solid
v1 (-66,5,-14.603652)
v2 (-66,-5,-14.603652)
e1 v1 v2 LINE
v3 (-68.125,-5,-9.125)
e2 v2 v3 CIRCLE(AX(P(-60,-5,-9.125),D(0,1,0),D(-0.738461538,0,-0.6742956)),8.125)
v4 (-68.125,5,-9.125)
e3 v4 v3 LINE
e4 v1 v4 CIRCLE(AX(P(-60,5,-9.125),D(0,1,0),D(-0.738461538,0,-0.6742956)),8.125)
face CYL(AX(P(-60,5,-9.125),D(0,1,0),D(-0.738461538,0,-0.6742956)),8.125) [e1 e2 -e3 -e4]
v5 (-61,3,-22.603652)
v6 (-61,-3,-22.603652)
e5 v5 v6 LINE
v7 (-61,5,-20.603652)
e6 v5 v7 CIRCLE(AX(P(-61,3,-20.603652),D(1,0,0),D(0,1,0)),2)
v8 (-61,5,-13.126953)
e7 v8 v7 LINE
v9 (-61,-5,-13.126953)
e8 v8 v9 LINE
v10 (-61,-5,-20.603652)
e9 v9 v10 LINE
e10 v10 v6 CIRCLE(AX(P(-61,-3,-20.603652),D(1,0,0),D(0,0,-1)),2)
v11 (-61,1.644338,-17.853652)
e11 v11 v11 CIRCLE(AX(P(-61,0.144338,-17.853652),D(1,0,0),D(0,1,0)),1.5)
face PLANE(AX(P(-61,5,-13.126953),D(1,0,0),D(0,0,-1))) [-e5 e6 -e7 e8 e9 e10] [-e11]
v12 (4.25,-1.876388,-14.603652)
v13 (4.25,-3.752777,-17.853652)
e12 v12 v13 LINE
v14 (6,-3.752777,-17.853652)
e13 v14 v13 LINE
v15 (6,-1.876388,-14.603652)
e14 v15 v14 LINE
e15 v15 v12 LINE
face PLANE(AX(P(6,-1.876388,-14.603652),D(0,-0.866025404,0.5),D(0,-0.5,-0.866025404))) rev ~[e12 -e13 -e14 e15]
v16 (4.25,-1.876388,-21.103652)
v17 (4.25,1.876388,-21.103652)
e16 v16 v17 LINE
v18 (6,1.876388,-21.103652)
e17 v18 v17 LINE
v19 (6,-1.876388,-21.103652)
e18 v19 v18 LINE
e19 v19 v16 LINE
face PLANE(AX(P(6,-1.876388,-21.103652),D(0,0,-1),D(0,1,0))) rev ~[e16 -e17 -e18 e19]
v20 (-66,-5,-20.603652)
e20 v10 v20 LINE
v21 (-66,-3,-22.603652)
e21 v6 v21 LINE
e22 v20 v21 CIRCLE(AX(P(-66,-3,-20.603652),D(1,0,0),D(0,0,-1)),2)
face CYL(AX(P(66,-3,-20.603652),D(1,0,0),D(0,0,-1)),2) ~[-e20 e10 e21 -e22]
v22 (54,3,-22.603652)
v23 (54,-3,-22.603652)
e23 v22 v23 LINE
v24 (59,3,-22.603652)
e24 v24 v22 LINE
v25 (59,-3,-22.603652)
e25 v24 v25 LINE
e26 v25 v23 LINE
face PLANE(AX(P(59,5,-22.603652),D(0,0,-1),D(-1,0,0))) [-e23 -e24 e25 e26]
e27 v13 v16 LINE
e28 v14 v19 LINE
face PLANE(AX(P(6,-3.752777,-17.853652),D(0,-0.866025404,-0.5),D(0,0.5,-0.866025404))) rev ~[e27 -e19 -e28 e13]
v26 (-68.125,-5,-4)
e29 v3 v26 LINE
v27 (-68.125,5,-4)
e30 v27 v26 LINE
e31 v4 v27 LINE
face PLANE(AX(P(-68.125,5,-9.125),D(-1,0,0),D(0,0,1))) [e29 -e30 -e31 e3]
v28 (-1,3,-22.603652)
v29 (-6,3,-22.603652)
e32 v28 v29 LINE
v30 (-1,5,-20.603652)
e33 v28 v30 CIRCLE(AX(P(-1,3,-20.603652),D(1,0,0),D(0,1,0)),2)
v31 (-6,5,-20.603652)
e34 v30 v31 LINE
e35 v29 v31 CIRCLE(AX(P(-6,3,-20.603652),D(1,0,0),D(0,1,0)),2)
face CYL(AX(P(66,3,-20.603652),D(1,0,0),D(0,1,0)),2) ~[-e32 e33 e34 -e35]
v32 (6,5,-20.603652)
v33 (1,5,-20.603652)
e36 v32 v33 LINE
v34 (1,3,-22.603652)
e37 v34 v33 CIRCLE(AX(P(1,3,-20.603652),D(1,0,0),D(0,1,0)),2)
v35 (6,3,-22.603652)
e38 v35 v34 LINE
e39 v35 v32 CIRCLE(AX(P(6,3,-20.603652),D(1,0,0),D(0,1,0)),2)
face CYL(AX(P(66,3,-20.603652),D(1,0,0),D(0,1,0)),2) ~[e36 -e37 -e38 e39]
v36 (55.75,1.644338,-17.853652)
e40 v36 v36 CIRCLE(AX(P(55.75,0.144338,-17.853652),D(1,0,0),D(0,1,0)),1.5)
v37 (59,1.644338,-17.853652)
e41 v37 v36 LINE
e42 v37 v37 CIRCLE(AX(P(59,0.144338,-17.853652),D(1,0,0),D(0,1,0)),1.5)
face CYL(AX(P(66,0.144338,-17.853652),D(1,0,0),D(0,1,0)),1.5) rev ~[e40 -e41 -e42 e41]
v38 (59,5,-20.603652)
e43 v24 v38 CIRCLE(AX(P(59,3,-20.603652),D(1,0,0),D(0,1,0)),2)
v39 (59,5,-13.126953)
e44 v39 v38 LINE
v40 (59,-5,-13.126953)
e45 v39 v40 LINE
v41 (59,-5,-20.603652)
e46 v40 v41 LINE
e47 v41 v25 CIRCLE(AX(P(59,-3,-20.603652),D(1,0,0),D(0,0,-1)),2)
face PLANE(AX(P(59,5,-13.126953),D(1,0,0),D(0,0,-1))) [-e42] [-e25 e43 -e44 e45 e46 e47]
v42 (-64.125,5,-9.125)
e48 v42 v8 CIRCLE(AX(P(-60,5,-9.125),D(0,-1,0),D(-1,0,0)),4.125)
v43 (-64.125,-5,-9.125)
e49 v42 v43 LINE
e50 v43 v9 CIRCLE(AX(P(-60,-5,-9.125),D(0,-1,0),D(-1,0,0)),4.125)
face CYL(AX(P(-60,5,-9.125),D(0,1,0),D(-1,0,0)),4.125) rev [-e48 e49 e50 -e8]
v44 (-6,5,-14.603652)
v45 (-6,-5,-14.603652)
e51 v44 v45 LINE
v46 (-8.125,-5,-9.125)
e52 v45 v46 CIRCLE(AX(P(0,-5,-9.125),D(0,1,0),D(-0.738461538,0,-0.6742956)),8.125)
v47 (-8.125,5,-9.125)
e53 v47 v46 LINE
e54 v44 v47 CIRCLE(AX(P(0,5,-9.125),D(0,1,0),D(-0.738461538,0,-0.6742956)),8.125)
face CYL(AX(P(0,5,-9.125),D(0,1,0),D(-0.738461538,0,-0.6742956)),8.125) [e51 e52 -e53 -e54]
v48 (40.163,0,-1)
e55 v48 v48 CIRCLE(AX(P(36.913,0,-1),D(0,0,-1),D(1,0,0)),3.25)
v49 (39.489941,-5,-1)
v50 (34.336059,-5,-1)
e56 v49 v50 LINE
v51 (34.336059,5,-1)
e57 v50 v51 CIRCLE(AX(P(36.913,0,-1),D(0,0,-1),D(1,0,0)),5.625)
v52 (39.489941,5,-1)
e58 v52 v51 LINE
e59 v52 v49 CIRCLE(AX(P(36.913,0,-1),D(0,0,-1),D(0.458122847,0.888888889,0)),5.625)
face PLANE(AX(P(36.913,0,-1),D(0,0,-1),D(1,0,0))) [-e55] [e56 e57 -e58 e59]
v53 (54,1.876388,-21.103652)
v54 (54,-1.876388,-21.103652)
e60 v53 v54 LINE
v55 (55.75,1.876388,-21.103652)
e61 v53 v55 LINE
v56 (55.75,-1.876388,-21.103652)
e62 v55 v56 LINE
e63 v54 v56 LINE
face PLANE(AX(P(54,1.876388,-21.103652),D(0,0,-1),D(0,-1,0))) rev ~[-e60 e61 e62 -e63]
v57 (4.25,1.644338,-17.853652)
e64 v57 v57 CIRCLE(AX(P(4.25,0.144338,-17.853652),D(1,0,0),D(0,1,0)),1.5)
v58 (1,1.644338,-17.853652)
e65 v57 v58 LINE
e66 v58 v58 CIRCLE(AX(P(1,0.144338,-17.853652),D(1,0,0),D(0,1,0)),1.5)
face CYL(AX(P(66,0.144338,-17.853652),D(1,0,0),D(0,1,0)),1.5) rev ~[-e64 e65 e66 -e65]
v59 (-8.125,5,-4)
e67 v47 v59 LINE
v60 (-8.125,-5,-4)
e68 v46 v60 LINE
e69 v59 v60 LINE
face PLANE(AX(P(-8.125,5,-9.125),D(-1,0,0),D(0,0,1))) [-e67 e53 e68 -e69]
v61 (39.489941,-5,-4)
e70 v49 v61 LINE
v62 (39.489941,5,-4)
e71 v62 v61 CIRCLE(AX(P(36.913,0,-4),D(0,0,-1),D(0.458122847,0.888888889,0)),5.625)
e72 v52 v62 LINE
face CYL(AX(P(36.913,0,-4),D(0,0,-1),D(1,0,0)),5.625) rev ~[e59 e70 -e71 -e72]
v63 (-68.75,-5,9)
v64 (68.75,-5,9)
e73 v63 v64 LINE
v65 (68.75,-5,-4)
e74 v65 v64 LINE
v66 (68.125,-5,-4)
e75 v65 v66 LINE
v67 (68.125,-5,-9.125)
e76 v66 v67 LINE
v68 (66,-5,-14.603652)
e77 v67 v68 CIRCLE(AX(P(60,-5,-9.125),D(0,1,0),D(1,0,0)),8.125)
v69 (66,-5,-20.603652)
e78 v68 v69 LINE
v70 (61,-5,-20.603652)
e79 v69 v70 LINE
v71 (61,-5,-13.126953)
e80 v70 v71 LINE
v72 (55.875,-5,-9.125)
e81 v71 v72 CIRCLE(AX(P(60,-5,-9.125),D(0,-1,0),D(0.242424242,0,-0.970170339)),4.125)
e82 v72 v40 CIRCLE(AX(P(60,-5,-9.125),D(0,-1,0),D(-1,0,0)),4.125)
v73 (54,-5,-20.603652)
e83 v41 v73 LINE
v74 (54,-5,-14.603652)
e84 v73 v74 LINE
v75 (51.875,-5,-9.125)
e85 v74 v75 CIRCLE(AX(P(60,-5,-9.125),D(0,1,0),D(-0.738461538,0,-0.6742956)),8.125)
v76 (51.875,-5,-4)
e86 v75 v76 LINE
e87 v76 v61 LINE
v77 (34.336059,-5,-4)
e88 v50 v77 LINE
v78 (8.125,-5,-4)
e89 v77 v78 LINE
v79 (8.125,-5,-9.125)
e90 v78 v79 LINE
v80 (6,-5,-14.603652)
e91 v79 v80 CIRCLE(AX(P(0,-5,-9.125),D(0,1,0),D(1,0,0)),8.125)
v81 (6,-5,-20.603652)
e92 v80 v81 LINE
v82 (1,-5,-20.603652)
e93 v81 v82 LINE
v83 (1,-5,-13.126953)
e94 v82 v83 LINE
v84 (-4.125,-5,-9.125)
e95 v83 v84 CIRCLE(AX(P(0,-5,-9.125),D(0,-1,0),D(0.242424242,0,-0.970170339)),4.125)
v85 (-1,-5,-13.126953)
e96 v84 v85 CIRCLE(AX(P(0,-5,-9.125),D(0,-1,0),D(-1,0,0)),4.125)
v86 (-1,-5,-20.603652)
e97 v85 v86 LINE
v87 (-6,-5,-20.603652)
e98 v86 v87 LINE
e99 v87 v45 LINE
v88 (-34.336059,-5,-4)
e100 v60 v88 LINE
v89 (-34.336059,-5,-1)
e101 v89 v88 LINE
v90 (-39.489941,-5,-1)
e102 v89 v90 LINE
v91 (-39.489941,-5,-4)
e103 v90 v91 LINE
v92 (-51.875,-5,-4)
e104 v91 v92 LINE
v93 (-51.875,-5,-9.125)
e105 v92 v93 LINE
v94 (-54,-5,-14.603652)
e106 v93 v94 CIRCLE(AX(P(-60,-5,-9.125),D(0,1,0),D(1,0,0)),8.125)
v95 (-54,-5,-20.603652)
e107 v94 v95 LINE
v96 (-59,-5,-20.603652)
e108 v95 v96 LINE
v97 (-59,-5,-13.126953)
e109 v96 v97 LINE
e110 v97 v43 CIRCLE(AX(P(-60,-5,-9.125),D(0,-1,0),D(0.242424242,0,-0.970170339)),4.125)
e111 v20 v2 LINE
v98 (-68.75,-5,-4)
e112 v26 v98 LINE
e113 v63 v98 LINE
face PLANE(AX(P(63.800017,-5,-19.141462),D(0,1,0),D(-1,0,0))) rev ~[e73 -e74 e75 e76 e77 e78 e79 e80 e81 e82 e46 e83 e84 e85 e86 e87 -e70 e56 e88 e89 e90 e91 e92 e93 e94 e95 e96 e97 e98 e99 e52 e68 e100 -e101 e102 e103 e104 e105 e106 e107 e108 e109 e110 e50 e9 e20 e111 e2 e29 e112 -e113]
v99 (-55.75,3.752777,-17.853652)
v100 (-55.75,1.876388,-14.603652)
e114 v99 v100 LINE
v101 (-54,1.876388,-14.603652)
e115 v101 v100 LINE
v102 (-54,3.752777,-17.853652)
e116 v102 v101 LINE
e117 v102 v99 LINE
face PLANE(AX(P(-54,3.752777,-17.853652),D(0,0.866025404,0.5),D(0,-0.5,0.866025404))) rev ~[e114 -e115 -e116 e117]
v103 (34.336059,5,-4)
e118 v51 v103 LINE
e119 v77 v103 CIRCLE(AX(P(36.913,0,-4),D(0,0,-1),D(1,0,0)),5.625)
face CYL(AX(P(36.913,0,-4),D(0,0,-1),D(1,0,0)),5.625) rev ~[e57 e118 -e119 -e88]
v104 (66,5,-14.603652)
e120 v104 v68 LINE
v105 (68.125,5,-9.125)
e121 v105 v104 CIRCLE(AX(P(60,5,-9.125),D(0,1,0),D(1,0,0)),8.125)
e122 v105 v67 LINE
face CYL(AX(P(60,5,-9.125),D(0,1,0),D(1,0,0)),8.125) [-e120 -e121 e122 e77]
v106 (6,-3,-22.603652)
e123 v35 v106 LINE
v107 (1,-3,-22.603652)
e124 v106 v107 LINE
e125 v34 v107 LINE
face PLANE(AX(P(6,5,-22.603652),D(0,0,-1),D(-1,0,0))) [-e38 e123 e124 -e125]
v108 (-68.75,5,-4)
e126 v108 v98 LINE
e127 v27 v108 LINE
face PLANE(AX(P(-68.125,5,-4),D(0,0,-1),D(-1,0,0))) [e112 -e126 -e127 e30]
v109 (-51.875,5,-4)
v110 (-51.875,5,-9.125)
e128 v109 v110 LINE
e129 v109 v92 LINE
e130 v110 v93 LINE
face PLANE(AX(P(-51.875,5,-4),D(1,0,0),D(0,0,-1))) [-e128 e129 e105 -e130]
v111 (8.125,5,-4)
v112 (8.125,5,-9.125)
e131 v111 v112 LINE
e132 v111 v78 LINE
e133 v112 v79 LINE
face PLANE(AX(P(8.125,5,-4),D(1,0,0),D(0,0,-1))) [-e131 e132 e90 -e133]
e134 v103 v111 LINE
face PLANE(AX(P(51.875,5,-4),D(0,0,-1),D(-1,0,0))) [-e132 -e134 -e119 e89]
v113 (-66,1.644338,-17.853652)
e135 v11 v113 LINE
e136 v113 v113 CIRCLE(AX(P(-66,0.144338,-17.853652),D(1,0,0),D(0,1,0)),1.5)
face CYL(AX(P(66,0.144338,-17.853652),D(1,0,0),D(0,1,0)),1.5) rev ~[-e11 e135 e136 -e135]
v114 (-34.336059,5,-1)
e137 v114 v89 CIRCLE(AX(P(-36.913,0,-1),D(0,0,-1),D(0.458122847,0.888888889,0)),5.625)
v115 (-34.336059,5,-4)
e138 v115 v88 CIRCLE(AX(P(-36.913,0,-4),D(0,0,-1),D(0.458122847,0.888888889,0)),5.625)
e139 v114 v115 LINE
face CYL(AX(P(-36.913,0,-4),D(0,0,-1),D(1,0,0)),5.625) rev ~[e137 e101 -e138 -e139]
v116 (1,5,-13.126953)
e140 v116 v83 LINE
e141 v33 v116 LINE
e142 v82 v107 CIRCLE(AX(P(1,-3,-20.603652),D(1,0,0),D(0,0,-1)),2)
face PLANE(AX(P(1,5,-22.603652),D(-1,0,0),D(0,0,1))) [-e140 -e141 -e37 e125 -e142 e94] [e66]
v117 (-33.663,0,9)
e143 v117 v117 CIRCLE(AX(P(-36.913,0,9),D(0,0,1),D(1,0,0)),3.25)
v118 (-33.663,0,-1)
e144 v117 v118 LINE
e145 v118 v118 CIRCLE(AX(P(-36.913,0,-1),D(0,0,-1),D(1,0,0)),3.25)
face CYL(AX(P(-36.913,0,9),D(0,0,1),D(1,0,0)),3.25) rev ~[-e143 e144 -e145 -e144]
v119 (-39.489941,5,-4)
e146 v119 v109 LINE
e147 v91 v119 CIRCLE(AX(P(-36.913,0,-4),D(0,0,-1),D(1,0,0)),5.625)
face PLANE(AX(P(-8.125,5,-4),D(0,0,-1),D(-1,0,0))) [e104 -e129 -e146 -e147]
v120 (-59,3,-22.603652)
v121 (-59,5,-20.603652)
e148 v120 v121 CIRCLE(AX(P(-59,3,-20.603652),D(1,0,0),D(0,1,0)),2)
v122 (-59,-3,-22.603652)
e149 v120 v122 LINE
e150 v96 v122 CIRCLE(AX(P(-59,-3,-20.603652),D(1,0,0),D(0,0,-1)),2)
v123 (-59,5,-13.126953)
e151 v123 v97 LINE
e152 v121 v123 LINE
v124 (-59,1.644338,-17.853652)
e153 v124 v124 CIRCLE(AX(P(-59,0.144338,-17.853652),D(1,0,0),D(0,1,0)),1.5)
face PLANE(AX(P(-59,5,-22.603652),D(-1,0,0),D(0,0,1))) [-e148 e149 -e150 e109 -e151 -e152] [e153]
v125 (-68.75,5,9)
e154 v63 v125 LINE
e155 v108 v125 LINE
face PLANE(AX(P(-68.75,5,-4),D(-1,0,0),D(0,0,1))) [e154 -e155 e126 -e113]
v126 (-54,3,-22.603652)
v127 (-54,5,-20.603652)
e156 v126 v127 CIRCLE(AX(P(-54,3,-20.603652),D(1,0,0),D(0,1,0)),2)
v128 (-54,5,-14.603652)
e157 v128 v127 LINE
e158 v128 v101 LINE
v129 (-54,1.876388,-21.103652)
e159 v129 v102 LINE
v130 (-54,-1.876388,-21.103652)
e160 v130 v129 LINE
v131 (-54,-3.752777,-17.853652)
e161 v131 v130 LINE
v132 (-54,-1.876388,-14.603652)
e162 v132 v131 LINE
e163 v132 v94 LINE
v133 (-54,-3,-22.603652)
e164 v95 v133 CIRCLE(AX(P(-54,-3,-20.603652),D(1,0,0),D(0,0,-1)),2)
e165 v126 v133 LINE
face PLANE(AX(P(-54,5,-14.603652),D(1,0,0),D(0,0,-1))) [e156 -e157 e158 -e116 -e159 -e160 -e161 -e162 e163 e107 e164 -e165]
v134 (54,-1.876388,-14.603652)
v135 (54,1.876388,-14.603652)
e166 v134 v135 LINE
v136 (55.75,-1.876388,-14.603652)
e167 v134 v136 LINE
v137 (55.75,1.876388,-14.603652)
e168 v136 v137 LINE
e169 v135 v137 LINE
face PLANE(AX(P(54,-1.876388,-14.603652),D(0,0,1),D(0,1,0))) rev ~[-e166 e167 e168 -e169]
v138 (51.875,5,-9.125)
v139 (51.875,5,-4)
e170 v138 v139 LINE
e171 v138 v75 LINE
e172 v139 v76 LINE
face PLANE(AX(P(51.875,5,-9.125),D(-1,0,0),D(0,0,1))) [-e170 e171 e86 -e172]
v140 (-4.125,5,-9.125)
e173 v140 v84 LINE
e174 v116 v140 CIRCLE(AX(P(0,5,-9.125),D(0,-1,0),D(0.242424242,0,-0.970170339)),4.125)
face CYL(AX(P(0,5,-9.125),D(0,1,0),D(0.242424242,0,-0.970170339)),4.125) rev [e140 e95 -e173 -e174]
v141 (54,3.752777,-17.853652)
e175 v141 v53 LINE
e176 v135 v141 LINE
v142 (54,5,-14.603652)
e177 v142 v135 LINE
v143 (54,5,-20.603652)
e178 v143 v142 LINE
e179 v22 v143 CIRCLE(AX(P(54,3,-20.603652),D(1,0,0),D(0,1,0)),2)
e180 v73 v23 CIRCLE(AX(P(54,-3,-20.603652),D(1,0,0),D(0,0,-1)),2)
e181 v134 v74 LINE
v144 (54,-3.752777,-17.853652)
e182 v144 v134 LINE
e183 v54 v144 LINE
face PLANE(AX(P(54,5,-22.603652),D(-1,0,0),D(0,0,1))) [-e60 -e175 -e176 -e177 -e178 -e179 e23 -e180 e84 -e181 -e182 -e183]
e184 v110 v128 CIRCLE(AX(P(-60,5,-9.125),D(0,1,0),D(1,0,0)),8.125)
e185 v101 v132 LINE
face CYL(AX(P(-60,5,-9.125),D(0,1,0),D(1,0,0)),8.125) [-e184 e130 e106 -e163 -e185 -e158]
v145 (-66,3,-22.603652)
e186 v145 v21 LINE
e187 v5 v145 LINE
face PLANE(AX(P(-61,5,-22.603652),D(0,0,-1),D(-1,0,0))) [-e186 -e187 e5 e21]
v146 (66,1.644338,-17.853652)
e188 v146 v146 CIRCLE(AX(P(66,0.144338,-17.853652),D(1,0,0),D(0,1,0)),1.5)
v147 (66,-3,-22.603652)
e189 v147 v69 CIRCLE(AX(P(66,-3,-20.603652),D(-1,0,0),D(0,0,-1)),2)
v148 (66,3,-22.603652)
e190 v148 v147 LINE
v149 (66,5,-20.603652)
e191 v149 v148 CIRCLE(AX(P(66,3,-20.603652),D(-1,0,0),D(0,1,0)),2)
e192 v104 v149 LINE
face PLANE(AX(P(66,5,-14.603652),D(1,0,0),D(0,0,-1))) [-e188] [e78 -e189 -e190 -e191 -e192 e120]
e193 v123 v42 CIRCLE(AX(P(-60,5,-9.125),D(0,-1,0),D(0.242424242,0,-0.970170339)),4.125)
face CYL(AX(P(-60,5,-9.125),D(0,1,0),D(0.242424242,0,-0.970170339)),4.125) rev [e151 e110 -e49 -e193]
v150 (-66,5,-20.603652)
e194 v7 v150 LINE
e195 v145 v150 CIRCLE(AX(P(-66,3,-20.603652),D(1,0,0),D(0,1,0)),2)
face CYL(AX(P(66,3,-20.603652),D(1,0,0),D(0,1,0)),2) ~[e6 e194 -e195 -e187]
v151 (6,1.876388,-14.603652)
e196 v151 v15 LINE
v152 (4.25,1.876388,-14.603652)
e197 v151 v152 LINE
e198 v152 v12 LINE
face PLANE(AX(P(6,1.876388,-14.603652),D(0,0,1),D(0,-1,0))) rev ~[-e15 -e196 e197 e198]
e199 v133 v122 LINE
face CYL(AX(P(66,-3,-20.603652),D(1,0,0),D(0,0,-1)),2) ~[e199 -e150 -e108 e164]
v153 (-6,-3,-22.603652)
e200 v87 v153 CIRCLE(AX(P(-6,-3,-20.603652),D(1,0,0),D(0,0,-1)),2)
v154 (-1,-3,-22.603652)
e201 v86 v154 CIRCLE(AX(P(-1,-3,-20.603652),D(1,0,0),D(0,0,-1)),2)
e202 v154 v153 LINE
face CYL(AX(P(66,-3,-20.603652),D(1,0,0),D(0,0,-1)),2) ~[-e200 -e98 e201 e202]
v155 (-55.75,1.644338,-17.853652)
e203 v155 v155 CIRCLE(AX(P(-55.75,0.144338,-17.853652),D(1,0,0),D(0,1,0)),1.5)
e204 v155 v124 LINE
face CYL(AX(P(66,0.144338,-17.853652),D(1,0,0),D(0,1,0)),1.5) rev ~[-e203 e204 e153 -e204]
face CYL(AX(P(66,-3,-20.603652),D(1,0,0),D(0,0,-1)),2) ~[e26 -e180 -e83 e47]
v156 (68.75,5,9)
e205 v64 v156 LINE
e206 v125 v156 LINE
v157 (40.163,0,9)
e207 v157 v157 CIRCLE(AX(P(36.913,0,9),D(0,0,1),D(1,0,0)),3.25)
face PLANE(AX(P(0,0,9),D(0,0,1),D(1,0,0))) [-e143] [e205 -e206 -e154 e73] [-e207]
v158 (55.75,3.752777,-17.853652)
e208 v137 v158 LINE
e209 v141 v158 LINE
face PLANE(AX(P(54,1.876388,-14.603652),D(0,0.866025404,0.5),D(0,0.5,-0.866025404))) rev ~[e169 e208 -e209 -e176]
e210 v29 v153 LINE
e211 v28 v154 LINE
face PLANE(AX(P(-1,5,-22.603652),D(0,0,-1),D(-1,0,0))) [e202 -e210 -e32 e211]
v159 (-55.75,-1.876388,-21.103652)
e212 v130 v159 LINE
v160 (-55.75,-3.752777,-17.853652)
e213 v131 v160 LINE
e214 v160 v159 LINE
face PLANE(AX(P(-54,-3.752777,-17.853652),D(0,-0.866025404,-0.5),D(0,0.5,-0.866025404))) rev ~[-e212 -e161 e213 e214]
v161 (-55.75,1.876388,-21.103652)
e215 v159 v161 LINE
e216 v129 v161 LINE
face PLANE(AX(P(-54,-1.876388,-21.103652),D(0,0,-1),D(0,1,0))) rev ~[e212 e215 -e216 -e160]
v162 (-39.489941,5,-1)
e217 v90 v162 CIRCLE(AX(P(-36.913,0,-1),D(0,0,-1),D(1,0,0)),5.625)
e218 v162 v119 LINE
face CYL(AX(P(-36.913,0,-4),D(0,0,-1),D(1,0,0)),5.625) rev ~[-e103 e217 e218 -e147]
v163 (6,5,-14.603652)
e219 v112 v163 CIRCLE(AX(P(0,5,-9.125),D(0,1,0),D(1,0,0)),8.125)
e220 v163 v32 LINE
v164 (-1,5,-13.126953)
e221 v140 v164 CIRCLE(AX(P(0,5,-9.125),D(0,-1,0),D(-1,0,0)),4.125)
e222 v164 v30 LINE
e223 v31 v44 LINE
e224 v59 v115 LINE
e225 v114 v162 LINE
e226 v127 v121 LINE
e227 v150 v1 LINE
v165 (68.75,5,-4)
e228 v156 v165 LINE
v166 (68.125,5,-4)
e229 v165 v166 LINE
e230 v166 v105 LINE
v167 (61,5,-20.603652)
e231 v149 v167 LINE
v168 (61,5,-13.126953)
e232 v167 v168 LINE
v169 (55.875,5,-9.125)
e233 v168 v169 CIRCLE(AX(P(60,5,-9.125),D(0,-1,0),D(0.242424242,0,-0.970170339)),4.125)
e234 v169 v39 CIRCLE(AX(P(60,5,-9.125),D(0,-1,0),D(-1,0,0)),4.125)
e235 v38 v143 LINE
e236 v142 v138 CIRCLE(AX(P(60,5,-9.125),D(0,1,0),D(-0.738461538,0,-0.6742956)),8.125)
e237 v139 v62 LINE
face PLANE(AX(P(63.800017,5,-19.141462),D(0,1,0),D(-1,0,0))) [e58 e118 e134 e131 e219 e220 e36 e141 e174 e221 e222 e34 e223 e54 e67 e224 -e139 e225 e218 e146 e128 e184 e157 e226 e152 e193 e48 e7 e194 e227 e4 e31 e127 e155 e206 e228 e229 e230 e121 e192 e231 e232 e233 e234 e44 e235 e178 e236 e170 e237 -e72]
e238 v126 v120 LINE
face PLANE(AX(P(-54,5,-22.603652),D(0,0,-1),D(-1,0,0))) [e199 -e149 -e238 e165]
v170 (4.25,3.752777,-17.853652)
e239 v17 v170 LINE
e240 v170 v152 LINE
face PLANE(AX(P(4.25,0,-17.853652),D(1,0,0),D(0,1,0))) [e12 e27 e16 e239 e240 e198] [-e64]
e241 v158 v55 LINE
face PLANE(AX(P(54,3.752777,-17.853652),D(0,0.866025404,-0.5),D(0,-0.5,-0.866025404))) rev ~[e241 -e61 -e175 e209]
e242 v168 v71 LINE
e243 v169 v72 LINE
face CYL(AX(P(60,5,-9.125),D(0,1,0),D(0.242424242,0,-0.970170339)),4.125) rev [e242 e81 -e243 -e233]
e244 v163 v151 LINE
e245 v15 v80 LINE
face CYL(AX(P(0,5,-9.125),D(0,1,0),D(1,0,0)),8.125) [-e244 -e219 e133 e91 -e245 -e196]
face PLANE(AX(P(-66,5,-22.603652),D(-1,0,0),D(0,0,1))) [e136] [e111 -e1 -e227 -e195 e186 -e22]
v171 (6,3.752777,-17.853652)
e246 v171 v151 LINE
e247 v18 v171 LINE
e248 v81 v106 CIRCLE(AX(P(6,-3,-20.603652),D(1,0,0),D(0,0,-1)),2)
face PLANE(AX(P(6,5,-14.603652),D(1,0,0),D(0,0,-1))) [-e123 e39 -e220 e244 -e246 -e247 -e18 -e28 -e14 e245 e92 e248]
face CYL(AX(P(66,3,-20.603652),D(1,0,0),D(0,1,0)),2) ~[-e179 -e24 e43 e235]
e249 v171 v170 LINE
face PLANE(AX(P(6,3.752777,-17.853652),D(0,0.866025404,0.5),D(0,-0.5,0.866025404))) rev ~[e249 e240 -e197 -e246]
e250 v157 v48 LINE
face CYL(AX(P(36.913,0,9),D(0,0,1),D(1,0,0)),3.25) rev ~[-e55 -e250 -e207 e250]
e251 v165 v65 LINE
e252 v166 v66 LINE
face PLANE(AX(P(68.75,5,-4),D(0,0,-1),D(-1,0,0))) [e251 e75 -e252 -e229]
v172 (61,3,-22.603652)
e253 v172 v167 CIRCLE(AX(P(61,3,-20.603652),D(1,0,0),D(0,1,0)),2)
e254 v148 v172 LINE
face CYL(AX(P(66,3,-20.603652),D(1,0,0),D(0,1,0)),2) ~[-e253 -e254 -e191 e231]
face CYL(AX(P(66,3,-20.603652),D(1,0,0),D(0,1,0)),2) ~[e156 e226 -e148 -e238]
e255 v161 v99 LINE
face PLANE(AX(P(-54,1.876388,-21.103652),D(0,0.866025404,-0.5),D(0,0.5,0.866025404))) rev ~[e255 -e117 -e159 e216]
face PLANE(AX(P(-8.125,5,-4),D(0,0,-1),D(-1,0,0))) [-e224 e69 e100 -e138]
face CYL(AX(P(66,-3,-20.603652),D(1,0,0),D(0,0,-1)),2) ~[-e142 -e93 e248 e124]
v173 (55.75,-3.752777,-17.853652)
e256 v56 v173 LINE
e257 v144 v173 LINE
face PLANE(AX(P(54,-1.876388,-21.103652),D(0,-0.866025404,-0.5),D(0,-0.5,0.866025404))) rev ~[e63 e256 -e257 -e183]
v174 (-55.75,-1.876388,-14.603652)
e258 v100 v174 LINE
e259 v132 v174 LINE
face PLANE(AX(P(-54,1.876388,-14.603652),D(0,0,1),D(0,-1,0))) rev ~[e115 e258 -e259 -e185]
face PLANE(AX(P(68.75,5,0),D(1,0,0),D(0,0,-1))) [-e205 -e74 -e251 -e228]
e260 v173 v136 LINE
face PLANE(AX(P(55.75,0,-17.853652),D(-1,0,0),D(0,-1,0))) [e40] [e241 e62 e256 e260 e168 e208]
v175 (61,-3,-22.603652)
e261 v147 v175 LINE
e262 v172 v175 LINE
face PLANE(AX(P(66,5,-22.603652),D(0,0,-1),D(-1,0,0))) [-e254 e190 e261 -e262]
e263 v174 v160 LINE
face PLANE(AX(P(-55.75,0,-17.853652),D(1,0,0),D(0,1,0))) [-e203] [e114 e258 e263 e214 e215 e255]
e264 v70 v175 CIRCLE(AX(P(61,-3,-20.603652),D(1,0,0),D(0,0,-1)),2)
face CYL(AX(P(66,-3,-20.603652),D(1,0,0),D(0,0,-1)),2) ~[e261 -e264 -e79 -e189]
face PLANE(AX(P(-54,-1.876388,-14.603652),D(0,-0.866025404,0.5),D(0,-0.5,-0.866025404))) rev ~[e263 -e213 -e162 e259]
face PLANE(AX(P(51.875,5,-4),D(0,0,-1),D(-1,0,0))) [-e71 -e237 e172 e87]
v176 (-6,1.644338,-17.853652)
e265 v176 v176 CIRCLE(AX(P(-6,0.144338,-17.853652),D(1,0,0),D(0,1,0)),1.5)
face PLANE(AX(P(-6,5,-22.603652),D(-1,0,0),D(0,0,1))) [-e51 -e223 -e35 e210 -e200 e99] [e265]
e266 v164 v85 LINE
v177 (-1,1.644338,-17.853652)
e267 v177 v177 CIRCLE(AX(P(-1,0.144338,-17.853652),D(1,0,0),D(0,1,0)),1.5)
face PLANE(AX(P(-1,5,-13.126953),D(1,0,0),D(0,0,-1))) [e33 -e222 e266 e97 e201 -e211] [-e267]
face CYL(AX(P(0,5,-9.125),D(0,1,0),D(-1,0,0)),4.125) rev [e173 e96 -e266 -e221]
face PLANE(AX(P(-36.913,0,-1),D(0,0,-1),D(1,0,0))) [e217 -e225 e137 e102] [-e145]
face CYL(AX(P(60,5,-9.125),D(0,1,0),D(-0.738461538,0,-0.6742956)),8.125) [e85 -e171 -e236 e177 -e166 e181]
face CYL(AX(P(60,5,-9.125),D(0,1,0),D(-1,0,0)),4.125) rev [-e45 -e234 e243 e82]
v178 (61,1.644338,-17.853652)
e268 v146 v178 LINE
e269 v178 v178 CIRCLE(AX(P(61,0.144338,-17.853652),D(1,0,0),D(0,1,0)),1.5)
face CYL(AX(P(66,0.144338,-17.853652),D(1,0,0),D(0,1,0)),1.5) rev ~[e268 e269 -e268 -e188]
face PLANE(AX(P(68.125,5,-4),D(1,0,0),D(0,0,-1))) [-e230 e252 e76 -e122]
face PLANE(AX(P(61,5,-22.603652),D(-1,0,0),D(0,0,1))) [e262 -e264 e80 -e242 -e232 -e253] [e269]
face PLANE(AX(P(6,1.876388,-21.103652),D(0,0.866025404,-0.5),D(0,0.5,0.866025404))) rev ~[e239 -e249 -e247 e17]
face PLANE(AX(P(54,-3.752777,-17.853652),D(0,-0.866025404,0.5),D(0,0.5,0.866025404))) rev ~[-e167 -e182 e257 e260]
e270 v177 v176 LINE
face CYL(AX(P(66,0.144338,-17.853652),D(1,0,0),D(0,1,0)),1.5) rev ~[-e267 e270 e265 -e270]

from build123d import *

# Parameters (mm, degrees)
F0_W      = 137.5
F0_H      = 10
F1_DEPTH  = 9
F3_DEPTH  = 10
F5_DEPTH  = 1.75
F7_DEPTH  = 1.75
F9_DEPTH  = 1.75
F10_R     = 1.5
F11_DEPTH = 134.751
F12_R     = 3.25
F13_DEPTH = 31.6046517502
F15_DEPTH = 134.751
F16_R     = 5.625
F16_R_2   = 3.25
F17_DEPTH = 3


with BuildPart() as f1:
    # F0 (on Top) → F1 (new body)
    with BuildSketch(Plane.XY):
        Rectangle(F0_W, F0_H)
    extrude(amount=F1_DEPTH)

    # F2 (on face) → F3 (join, through all)
    with BuildSketch(Plane(origin=(0, 5, 0), x_dir=(-1, 0, 0), z_dir=(0, 1, 0))):
        with BuildLine():
            Line((-61, -22.6036517502), (-61, -17.1882267114))
            ThreePointArc((-61, -17.1882267114), (-63.7309525503, -16.342729426), (-66, -14.6036517502))
            Line((-66, -14.6036517502), (-66, -22.6036517502))
            Line((-66, -22.6036517502), (-61, -22.6036517502))
        make_face()
        with BuildLine():
            Line((-54, -22.6036517502), (-54, -14.6036517502))
            ThreePointArc((-54, -14.6036517502), (-56.2690474497, -16.342729426), (-59, -17.1882267114))
            Line((-59, -17.1882267114), (-59, -22.6036517502))
            Line((-59, -22.6036517502), (-54, -22.6036517502))
        make_face()
        with BuildLine():
            Line((-1, -22.6036517502), (-1, -17.1882267114))
            ThreePointArc((-1, -17.1882267114), (-3.7309525503, -16.342729426), (-6, -14.6036517502))
            Line((-6, -14.6036517502), (-6, -22.6036517502))
            Line((-6, -22.6036517502), (-1, -22.6036517502))
        make_face()
        with BuildLine():
            ThreePointArc((6, -14.6036517502), (3.7309525503, -16.342729426), (1, -17.1882267114))
            Line((1, -17.1882267114), (1, -22.6036517502))
            Line((1, -22.6036517502), (6, -22.6036517502))
            Line((6, -22.6036517502), (6, -14.6036517502))
        make_face()
        with BuildLine():
            ThreePointArc((59, -17.1882267114), (56.2690474497, -16.342729426), (54, -14.6036517502))
            Line((54, -14.6036517502), (54, -22.6036517502))
            Line((54, -22.6036517502), (59, -22.6036517502))
            Line((59, -22.6036517502), (59, -17.1882267114))
        make_face()
        with BuildLine():
            ThreePointArc((66, -14.6036517502), (63.7309525503, -16.342729426), (61, -17.1882267114))
            Line((61, -17.1882267114), (61, -22.6036517502))
            Line((61, -22.6036517502), (66, -22.6036517502))
            Line((66, -22.6036517502), (66, -14.6036517502))
        make_face()
        with BuildLine():
            ThreePointArc((-1, -13.1269526484), (-2.5387620014, -5.8737982991), (4.125, -9.125))
            ThreePointArc((4.125, -9.125), (3.2512017009, -11.6637620014), (1, -13.1269526484))
            Line((1, -13.1269526484), (1, -17.1882267114))
            ThreePointArc((1, -17.1882267114), (3.7309525503, -16.342729426), (6, -14.6036517502))
            ThreePointArc((6, -14.6036517502), (7.5751443881, -12.0631648184), (8.125, -9.125))
            Line((8.125, -9.125), (8.125, -4))
            Line((8.125, -4), (51.875, -4))
            Line((51.875, -4), (51.875, -9.125))
            ThreePointArc((51.875, -9.125), (52.4248556119, -12.0631648184), (54, -14.6036517502))
            ThreePointArc((54, -14.6036517502), (56.2690474497, -16.342729426), (59, -17.1882267114))
            Line((59, -17.1882267114), (59, -13.1269526484))
            ThreePointArc((59, -13.1269526484), (57.4612379986, -5.8737982991), (64.125, -9.125))
            ThreePointArc((64.125, -9.125), (63.2512017009, -11.6637620014), (61, -13.1269526484))
            Line((61, -13.1269526484), (61, -17.1882267114))
            ThreePointArc((61, -17.1882267114), (63.7309525503, -16.342729426), (66, -14.6036517502))
            ThreePointArc((66, -14.6036517502), (67.5751443881, -12.0631648184), (68.125, -9.125))
            Line((68.125, -9.125), (68.125, -4))
            Line((68.125, -4), (68.75, -4))
            Line((68.75, -4), (68.75, 0))
            Line((68.75, 0), (-68.75, 0))
            Line((-68.75, 0), (-68.75, -4))
            Line((-68.75, -4), (-68.125, -4))
            Line((-68.125, -4), (-68.125, -9.125))
            ThreePointArc((-68.125, -9.125), (-67.5751443881, -12.0631648184), (-66, -14.6036517502))
            ThreePointArc((-66, -14.6036517502), (-63.7309525503, -16.342729426), (-61, -17.1882267114))
            Line((-61, -17.1882267114), (-61, -13.1269526484))
            ThreePointArc((-61, -13.1269526484), (-62.5387620014, -5.8737982991), (-55.875, -9.125))
            ThreePointArc((-55.875, -9.125), (-56.7487982991, -11.6637620014), (-59, -13.1269526484))
            Line((-59, -13.1269526484), (-59, -17.1882267114))
            ThreePointArc((-59, -17.1882267114), (-56.2690474497, -16.342729426), (-54, -14.6036517502))
            ThreePointArc((-54, -14.6036517502), (-52.4248556119, -12.0631648184), (-51.875, -9.125))
            Line((-51.875, -9.125), (-51.875, -4))
            Line((-51.875, -4), (-8.125, -4))
            Line((-8.125, -4), (-8.125, -9.125))
            ThreePointArc((-8.125, -9.125), (-7.5751443881, -12.0631648184), (-6, -14.6036517502))
            ThreePointArc((-6, -14.6036517502), (-3.7309525503, -16.342729426), (-1, -17.1882267114))
            Line((-1, -17.1882267114), (-1, -13.1269526484))
        make_face()
    extrude(amount=-F3_DEPTH)

    # F4 (on face) → F5 (cut)
    with BuildSketch(Plane(origin=(54, 0, 0), x_dir=(0, -1, 0), z_dir=(-1, 0, 0))):
        Polygon((3.7527767497, -17.8536517502), (1.8763883749, -14.6036517502), (-1.8763883749, -14.6036517502), (-3.7527767497, -17.8536517502), (-1.8763883749, -21.1036517502), (1.8763883749, -21.1036517502), align=None)
    extrude(amount=-F5_DEPTH, mode=Mode.SUBTRACT)

    # F6 (on face) → F7 (cut)
    with BuildSketch(Plane.YZ.offset(6)):
        Polygon((3.7527767497, -17.8536517502), (1.8763883749, -14.6036517502), (-1.8763883749, -14.6036517502), (-3.7527767497, -17.8536517502), (-1.8763883749, -21.1036517502), (1.8763883749, -21.1036517502), align=None)
    extrude(amount=-F7_DEPTH, mode=Mode.SUBTRACT)

    # F8 (on face) → F9 (cut)
    with BuildSketch(Plane.YZ.offset(-54)):
        Polygon((1.8763883749, -14.6036517502), (-1.8763883749, -14.6036517502), (-3.7527767497, -17.8536517502), (-1.8763883749, -21.1036517502), (1.8763883749, -21.1036517502), (3.7527767497, -17.8536517502), align=None)
    extrude(amount=-F9_DEPTH, mode=Mode.SUBTRACT)

    # F10 (on face) → F11 (cut, through all)
    with BuildSketch(Plane.YZ.offset(66)):
        with Locations((0.1443375673, -17.8536517502)):
            Circle(F10_R)
    extrude(amount=-F11_DEPTH, mode=Mode.SUBTRACT)

    # F12 (on face) → F13 (cut, through all)
    with BuildSketch(Plane.XY.offset(9)):
        with Locations((36.913, 0)):
            Circle(F12_R)
        with Locations((-36.913, 0)):
            Circle(F12_R)
    extrude(amount=-F13_DEPTH, mode=Mode.SUBTRACT)

    # F14 (on face) → F15 (cut, through all)
    with BuildSketch(Plane.YZ.offset(66)):
        with BuildLine():
            ThreePointArc((-3, -22.6036517502), (-4.4142135624, -22.0178653126), (-5, -20.6036517502))
            Line((-5, -20.6036517502), (-5, -22.6036517502))
            Line((-5, -22.6036517502), (-3, -22.6036517502))
        make_face()
        with BuildLine():
            ThreePointArc((5, -20.6036517502), (4.4142135624, -22.0178653126), (3, -22.6036517502))
            Line((3, -22.6036517502), (5, -22.6036517502))
            Line((5, -22.6036517502), (5, -20.6036517502))
        make_face()
    extrude(amount=-F15_DEPTH, mode=Mode.SUBTRACT)

    # F16 (on face) → F17 (cut)
    with BuildSketch(Plane(origin=(0, 0, -4), x_dir=(1, 0, 0), z_dir=(0, 0, -1))):
        with Locations((-36.913, 0)):
            Circle(F16_R)
        with Locations((-36.913, 0)):
            Circle(F16_R_2, mode=Mode.SUBTRACT)
        with Locations((36.913, 0)):
            Circle(F16_R)
        with Locations((36.913, 0)):
            Circle(F16_R_2, mode=Mode.SUBTRACT)
    extrude(amount=-F17_DEPTH, mode=Mode.SUBTRACT)


solid = f1.part
